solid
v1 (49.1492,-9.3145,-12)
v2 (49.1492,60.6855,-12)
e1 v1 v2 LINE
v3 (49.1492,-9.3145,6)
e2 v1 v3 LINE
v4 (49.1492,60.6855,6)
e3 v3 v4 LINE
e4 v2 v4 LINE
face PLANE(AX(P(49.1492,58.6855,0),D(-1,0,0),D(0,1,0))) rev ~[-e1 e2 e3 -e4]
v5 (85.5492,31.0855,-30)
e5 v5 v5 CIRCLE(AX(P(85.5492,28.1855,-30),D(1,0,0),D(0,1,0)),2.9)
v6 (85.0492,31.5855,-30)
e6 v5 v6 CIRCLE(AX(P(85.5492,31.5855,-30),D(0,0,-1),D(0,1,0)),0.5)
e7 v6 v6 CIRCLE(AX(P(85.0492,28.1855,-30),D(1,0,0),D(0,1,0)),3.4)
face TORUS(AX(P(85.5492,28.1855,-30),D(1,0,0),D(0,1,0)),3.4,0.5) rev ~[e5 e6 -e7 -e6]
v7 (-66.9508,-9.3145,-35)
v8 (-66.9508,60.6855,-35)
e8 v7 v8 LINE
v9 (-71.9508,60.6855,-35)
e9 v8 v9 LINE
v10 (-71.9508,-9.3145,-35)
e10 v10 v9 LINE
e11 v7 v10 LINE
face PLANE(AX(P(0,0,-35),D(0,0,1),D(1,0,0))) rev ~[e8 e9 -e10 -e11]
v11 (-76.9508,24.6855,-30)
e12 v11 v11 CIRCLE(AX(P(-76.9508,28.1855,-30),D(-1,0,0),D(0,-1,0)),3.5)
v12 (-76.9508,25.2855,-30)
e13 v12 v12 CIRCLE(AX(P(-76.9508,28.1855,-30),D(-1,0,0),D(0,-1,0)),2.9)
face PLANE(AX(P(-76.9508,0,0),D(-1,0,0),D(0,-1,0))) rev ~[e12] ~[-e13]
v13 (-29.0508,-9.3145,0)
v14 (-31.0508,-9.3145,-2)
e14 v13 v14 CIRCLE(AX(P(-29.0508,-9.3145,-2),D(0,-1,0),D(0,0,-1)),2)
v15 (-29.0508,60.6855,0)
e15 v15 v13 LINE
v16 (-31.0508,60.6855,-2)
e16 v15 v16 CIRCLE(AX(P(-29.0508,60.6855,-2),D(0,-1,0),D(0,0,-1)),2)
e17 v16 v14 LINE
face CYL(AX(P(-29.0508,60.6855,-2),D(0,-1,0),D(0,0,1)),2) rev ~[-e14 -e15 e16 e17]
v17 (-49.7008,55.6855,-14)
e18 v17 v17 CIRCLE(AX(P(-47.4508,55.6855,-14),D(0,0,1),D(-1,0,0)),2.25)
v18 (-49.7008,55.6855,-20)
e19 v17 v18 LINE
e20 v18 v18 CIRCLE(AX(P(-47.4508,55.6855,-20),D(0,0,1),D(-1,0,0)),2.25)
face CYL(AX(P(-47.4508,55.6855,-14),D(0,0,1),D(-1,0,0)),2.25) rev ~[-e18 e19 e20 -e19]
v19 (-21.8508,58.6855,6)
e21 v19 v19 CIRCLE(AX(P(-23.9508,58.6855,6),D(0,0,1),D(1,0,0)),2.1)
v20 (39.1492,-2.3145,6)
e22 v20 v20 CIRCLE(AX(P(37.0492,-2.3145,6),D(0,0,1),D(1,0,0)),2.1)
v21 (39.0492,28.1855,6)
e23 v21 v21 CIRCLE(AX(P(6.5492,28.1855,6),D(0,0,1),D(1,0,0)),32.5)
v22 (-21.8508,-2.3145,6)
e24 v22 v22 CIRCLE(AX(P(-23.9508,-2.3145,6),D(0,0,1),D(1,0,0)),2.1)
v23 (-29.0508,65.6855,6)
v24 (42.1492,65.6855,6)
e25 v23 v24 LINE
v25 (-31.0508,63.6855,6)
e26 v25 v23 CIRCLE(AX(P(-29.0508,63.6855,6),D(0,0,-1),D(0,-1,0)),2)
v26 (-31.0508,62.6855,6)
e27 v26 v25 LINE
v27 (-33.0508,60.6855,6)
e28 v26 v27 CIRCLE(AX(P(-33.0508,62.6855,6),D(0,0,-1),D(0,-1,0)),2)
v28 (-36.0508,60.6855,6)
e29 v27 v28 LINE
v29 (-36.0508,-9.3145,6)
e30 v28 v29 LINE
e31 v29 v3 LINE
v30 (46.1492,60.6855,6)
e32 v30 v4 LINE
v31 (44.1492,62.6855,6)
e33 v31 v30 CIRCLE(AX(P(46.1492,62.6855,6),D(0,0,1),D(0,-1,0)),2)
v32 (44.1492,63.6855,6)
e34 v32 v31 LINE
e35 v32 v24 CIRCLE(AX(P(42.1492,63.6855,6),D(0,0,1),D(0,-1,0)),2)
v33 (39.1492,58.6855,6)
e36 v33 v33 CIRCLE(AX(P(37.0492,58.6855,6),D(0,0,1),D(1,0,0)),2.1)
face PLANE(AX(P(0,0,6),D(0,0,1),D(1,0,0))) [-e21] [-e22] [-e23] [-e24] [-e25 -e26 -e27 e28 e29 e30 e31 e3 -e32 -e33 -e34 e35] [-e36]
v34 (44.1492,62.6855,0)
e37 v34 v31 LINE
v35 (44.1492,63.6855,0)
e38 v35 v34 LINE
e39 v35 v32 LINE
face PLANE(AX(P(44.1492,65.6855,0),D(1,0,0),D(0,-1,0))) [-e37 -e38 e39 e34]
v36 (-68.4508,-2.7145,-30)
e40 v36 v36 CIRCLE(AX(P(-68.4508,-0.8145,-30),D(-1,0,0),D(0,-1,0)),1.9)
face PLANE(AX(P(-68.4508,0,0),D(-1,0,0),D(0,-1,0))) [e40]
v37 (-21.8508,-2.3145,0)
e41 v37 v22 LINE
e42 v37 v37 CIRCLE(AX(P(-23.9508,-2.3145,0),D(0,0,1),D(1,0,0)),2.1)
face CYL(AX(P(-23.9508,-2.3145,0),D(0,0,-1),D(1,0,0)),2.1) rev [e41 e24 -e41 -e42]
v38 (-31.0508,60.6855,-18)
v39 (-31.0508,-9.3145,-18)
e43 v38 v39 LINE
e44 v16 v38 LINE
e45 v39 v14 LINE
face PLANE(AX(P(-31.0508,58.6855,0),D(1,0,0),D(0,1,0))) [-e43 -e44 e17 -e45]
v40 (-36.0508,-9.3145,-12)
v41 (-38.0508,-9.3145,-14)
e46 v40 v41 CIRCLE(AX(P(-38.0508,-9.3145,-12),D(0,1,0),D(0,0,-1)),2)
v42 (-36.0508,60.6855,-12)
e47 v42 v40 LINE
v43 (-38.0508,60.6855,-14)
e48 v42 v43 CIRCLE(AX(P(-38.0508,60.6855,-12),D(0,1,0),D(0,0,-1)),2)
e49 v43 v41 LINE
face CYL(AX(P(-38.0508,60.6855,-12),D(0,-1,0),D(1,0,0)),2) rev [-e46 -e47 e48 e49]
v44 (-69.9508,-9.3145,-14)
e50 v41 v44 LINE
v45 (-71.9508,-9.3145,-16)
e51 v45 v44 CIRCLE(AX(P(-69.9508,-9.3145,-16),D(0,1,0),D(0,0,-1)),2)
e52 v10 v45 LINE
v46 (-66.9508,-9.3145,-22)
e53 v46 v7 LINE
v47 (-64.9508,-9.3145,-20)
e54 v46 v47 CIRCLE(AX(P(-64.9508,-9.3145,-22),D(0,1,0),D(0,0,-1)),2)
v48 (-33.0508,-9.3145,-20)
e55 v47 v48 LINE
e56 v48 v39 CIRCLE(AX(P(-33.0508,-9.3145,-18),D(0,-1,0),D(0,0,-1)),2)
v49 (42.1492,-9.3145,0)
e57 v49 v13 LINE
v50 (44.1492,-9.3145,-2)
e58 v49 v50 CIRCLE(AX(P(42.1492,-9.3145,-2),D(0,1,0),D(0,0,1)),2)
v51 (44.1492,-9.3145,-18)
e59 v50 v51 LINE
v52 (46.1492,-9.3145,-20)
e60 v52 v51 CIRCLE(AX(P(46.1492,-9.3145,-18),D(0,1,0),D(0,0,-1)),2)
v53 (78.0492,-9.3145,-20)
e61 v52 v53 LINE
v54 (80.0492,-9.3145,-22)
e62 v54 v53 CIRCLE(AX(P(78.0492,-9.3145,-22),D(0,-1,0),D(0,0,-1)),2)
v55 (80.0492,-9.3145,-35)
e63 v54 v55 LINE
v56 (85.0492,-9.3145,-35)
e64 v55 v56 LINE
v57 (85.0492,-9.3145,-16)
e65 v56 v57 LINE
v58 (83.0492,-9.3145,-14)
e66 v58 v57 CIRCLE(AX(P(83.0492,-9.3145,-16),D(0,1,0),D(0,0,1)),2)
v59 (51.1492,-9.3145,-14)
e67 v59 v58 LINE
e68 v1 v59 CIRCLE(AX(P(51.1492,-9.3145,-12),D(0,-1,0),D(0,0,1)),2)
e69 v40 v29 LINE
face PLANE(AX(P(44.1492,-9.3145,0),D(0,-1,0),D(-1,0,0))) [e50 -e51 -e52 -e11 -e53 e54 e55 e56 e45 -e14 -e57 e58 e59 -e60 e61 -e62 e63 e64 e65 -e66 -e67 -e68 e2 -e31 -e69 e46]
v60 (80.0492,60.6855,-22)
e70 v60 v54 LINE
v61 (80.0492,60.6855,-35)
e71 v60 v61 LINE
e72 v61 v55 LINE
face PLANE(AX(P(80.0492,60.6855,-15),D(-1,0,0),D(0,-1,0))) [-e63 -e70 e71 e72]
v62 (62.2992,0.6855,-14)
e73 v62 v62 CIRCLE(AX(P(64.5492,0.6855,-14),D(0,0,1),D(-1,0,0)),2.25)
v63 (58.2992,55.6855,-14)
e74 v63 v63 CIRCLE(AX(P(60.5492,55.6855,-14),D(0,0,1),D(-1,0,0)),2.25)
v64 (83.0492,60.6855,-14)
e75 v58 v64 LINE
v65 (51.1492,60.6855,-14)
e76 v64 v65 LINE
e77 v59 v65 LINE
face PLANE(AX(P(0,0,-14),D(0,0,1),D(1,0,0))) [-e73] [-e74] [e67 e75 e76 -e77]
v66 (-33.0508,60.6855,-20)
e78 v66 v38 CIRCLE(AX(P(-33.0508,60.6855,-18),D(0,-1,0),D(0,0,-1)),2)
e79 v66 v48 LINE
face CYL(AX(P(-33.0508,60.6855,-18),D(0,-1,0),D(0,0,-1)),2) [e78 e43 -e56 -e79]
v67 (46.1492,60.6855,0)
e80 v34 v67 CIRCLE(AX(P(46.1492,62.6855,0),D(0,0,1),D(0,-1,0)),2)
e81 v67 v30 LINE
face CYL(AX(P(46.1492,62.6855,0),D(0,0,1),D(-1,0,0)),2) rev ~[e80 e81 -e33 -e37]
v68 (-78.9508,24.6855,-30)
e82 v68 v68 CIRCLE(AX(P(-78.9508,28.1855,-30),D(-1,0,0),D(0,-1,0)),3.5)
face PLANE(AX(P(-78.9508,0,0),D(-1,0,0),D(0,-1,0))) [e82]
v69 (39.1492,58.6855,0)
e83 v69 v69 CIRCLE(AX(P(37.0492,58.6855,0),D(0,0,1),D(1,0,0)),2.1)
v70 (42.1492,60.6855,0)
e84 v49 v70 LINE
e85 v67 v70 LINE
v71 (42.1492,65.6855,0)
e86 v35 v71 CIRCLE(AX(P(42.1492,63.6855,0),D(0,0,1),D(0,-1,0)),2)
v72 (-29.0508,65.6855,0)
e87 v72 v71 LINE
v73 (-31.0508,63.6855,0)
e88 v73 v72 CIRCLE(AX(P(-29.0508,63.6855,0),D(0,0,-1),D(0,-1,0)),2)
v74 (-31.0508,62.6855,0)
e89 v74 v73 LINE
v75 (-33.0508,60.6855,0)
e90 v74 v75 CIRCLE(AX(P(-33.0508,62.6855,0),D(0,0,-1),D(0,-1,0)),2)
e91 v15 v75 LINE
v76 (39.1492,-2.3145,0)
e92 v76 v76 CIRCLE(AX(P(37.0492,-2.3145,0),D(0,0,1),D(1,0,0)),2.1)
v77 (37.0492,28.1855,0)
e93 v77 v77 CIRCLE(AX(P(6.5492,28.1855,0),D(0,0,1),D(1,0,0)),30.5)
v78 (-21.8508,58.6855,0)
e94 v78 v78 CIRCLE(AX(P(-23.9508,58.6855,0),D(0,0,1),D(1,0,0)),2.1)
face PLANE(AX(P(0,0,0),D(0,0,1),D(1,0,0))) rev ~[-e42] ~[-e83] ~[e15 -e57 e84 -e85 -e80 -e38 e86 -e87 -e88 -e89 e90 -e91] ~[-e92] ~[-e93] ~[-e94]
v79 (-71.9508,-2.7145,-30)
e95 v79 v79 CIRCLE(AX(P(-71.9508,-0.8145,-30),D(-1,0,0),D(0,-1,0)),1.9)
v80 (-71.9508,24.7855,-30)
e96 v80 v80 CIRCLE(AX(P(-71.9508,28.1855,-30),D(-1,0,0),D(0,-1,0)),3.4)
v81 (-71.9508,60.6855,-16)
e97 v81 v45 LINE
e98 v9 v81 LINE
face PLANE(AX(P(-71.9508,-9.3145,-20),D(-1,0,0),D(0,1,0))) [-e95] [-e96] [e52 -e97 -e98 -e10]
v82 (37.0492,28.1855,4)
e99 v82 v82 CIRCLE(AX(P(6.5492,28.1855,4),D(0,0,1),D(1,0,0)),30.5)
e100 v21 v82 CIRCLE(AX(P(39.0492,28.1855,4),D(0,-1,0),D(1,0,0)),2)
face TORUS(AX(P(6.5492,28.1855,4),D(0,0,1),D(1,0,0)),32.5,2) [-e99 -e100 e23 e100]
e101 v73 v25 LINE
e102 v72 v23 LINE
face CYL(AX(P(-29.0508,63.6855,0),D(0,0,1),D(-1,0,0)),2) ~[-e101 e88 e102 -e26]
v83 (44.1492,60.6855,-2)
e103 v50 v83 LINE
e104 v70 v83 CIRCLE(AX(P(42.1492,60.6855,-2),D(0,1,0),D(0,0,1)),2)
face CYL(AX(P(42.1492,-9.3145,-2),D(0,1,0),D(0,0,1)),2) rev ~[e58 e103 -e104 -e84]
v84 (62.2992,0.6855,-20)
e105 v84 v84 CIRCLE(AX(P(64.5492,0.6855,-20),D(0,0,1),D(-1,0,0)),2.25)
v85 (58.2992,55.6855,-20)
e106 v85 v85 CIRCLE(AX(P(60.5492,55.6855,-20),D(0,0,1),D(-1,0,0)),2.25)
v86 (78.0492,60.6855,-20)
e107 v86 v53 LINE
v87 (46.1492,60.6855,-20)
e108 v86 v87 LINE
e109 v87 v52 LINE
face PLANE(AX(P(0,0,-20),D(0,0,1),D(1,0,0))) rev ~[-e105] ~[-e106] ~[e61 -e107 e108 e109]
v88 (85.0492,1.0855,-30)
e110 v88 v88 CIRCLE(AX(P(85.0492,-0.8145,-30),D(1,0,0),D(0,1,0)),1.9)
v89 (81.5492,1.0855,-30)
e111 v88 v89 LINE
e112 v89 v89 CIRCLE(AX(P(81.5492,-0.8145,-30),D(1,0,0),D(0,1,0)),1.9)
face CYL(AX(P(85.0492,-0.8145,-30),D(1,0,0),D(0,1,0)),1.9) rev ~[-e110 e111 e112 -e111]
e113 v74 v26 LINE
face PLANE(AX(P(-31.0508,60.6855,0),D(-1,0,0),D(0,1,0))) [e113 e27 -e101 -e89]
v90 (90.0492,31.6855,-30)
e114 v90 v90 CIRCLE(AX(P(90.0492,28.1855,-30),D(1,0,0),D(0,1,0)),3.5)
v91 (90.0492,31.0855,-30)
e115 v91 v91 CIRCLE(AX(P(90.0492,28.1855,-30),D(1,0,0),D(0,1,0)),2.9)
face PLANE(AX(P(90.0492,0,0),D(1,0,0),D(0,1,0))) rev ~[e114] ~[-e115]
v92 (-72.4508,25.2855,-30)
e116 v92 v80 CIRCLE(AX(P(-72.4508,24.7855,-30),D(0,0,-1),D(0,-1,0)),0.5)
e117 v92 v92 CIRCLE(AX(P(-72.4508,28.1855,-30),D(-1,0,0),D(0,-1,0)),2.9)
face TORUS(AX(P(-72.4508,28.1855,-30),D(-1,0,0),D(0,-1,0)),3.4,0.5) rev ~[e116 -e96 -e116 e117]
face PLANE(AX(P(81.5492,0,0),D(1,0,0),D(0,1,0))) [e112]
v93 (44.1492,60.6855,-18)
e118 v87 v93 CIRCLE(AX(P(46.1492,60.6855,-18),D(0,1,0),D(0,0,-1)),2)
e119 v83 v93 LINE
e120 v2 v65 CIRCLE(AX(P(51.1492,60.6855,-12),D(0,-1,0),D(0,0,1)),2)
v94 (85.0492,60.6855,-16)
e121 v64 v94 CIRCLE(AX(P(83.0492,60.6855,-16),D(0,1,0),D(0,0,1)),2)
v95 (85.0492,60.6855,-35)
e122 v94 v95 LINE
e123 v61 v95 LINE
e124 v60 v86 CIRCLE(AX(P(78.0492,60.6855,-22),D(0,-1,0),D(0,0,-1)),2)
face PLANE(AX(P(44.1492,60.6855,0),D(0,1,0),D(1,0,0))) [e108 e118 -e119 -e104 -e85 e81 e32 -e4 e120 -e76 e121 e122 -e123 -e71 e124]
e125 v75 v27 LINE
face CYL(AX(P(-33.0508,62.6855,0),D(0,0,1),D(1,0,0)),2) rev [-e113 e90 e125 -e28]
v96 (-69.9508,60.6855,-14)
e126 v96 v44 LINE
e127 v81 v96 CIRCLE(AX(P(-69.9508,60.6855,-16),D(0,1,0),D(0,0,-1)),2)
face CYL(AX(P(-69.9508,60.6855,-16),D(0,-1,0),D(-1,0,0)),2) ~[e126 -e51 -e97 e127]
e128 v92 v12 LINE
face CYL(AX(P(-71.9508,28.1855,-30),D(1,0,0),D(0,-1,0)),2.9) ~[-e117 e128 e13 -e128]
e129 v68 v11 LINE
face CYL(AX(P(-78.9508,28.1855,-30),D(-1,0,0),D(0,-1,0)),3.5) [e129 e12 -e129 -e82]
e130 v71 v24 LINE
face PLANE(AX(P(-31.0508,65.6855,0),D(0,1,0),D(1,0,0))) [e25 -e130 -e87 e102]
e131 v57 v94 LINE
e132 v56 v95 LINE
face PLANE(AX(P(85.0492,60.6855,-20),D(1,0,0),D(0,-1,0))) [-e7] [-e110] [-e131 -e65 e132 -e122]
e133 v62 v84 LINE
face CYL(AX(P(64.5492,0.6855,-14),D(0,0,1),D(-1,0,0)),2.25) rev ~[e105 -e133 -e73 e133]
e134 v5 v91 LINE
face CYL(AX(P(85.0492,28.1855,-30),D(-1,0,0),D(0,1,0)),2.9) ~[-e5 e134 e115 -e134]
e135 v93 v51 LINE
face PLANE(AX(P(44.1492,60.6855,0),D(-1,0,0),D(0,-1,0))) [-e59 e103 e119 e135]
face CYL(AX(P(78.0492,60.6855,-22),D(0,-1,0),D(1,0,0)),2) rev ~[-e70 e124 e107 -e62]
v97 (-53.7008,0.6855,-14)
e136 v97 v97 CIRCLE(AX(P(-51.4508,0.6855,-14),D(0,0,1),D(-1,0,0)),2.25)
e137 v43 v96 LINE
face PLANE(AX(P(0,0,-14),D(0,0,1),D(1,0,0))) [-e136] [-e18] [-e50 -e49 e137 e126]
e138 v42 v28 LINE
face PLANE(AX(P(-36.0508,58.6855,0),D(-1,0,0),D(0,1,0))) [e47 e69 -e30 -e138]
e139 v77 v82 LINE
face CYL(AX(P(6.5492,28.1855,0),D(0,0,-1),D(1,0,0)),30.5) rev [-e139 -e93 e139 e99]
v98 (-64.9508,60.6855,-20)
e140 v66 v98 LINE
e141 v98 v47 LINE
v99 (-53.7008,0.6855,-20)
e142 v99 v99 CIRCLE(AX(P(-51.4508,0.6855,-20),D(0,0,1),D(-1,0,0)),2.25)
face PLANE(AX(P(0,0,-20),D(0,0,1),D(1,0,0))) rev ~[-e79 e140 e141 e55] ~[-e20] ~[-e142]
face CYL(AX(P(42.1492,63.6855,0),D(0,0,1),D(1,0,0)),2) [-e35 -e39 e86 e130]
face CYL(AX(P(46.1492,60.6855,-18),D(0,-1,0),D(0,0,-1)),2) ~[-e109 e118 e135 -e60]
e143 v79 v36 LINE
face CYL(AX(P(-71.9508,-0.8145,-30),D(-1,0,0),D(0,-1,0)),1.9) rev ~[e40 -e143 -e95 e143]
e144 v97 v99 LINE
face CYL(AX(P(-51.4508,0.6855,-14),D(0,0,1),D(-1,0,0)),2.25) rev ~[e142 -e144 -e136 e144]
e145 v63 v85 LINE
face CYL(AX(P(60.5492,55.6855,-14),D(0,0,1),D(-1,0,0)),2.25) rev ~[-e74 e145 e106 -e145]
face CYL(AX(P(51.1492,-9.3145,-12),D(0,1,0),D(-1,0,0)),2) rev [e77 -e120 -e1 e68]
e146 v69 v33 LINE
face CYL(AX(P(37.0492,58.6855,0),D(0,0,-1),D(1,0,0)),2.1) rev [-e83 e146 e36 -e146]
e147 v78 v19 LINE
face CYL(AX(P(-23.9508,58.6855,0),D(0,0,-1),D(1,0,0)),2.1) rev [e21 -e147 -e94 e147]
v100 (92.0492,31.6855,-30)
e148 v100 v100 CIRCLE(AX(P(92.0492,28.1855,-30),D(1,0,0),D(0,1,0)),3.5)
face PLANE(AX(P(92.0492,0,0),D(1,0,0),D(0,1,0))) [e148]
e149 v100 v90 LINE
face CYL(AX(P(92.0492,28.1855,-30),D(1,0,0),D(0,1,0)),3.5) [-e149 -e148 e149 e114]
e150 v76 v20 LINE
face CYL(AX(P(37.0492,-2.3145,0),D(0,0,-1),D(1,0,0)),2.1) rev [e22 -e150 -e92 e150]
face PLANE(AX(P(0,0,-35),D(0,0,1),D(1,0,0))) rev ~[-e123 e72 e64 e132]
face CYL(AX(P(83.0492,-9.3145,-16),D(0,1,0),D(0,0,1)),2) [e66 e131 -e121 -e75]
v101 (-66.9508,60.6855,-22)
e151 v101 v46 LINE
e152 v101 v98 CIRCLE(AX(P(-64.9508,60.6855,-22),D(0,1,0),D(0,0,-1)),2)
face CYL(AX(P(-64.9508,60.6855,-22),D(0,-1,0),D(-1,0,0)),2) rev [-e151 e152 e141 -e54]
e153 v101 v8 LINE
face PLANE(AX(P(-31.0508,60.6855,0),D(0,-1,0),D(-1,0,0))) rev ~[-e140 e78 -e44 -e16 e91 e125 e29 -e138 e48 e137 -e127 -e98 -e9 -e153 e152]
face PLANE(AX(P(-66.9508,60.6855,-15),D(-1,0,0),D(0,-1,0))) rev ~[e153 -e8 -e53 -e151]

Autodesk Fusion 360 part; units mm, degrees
sketch "Schizzo1" plane through (0, 0, 0) normal (0, 0, 1) x (1, 0, 0)
  line L0 (-31.0508, 65.6855) -> (44.1492, 65.6855)
  line L1 (44.1492, 65.6855) -> (44.1492, -9.3145)
  line L2 (44.1492, -9.3145) -> (-31.0508, -9.3145)
  line L3 (-31.0508, -9.3145) -> (-31.0508, 65.6855)
  line L4 (-31.0508, 28.1855) -> (44.1492, 28.1855) construction
  line L5 (6.5492, 65.6855) -> (6.5492, -9.3145) construction
  circle A0 centre (6.5492, 28.1855) radius 30.5
  line L6 (37.0492, -2.3145) -> (-23.9508, -2.3145) construction
  line L7 (-23.9508, -2.3145) -> (-23.9508, 58.6855) construction
  line L8 (-23.9508, 58.6855) -> (37.0492, 58.6855) construction
  line L9 (37.0492, 58.6855) -> (37.0492, -2.3145) construction
  line L10 (37.0492, -2.3145) -> (-23.9508, 58.6855) construction
  line L11 (-23.9508, -2.3145) -> (37.0492, 58.6855) construction
  circle A1 centre (-23.9508, 58.6855) radius 2.1
  circle A2 centre (37.0492, 58.6855) radius 2.1
  circle A3 centre (37.0492, -2.3145) radius 2.1
  circle A4 centre (-23.9508, -2.3145) radius 2.1
  line L12 (-71.9508, 58.6855) -> (-66.9508, 58.6855)
  line L13 (-66.9508, 58.6855) -> (-66.9508, -2.3145)
  line L14 (-66.9508, -2.3145) -> (-71.9508, -2.3145)
  line L15 (-71.9508, -2.3145) -> (-71.9508, 58.6855)
  line L16 (85.0492, 58.6855) -> (80.0492, 58.6855)
  line L17 (85.0492, -2.3145) -> (85.0492, 58.6855)
  line L18 (80.0492, 58.6855) -> (80.0492, -2.3145)
  line L19 (80.0492, -2.3145) -> (85.0492, -2.3145)
  circle A5 centre (-23.9508, 58.6855) radius 3.6
  circle A6 centre (37.0492, 58.6855) radius 3.6
  circle A7 centre (-23.9508, -2.3145) radius 3.6
  circle A8 centre (37.0492, -2.3145) radius 3.6
  line L20 (-31.0508, -9.3145) -> (-71.9508, -9.3145)
  line L21 (-71.9508, -9.3145) -> (-71.9508, -2.3145)
  line L22 (44.1492, -9.3145) -> (85.0492, -9.3145)
  line L23 (85.0492, -9.3145) -> (85.0492, -2.3145)
  line L24 (-66.9508, -2.3145) -> (-66.9508, -9.3145)
  line L25 (80.0492, -2.3145) -> (80.0492, -9.3145)
  line L26 (-66.9508, 58.6855) -> (-31.0508, 58.6855)
  line L27 (80.0492, 58.6855) -> (44.1492, 58.6855)
  line L28 (-66.9508, 58.6855) -> (-31.0508, 58.6855)
  line L29 (-31.0508, 58.6855) -> (-31.0508, 60.6855)
  line L30 (-31.0508, 60.6855) -> (-66.9508, 60.6855)
  line L31 (-66.9508, 60.6855) -> (-66.9508, 58.6855)
  line L32 (80.0492, 60.6855) -> (80.0492, 58.6855)
  line L33 (44.1492, 60.6855) -> (80.0492, 60.6855)
  line L34 (80.0492, 58.6855) -> (44.1492, 58.6855)
  line L35 (44.1492, -9.3145) -> (44.1492, 65.6855)
  line L36 (-36.0508, -9.3145) -> (-36.0508, 60.6855)
  line L37 (49.1492, -9.3145) -> (49.1492, 60.6855)
  line L38 (-71.9508, 58.6855) -> (-66.9508, 58.6855)
  line L39 (-66.9508, 58.6855) -> (-66.9508, 60.6855)
  line L40 (-66.9508, 60.6855) -> (-71.9508, 60.6855)
  line L41 (-71.9508, 60.6855) -> (-71.9508, 58.6855)
  line L42 (85.0492, 60.6855) -> (85.0492, 58.6855)
  line L43 (80.0492, 60.6855) -> (85.0492, 60.6855)
  point P0 (6.5492, 28.1855)
  point P1 (-23.9508, -2.3145)
  dimension "d1" = 75.2
  dimension "d2" = 75
  dimension "d3" = 61
  dimension "d4" = 61
  dimension "d5" = 61
  dimension "d6" = 4.2
  dimension "d13" = 5
  dimension "d22" = 7.2
  dimension "d70" = 157
  dimension "d82" = 147
  dimension "d102" = 2
  dimension "d109" = 5
extrude "Estrusione1" add sketch "Schizzo1" along normal blind 6 contours L0 L1 L2 L3 L29 L35 | L3 L26 L28 L29 L30 L36 | L1 L27 L33 L34 L35 L37 | L3 L20 L26 L28 L36 | L1 L22 L27 L34 L35 L37 | A5 | A6 | A7 | A8
fillet "Raccordo22" radius 2 1 edges at (-21.8868, 39.2148, 6)
extrude "Estrusione14" add sketch "Schizzo1" against normal blind 20 contours L3 L26 L28 L29 L30 L36 | L1 L27 L33 L34 L35 L37 | L3 L20 L26 L28 L36 | L1 L22 L27 L34 L35 L37
fillet "Raccordo20" radius 2 2 edges at (-31.0508, 25.6855, 0) (44.1492, 25.6855, 0)
fillet "Raccordo17" radius 2 2 edges at (-31.0508, 65.6855, 3) (44.1492, 65.6855, 3)
fillet "Raccordo21" radius 2 2 edges at (44.1492, 60.6855, 3) (-31.0508, 60.6855, 3)
extrude "Estrusione15" add sketch "Schizzo1" along normal blind 6 from surface at -20 contours L3 L20 L26 L28 L36 | L26 L28 L30 L31 L36 L39 | L1 L22 L27 L34 L35 L37 | L27 L32 L33 L34 L37 | L13 L20 L24 L26 L28 L36 | L12 L31 L38 L39 L40 L41 | L18 L22 L25 L27 L34 L37 | L16 L32 L42 L43 | L12 L13 L14 L15 L38 | L16 L17 L18 L19 | L14 L20 L21 L24 | L19 L22 L23 L25
fillet "Raccordo14" radius 2 2 edges at (49.1492, 25.6855, -14) (-36.0508, 25.6855, -14)
fillet "Raccordo18" radius 2 2 edges at (44.1492, 25.6855, -20) (-31.0508, 25.6855, -20)
extrude "Estrusione2" add sketch "Schizzo1" against normal blind 20 from surface at -15 contours L12 L31 L38 L39 L40 L41 | L16 L32 L42 L43 | L12 L13 L14 L15 L38 | L16 L17 L18 L19 | L14 L20 L21 L24 | L19 L22 L23 L25
fillet "Raccordo23" radius 2 2 edges at (-71.9508, 25.6855, -14) (85.0492, 25.6855, -14)
fillet "Raccordo24" radius 2 2 edges at (-66.9508, 25.6855, -20) (80.0492, 25.6855, -20)
sketch "Schizzo2" plane through (-71.9508, 0, 0) normal (-1, 0, 0) x (0, -1, 0)
  line L0 (-60.6855, -35) -> (9.3145, -35)
  circle A0 centre (-28.1855, -30) radius 2.9
  circle A1 centre (-28.1855, -30) radius 3.5
  line L1 (9.3145, -35) -> (9.3145, -16)
  circle A2 centre (0.8145, -30) radius 1.9
  line L2 (-58.6855, -15) -> (9.3145, -15) construction
  line L3 (9.3145, -15) -> (9.3145, -35) construction
  line L4 (9.3145, -35) -> (-58.6855, -35) construction
  line L5 (-58.6855, -35) -> (-58.6855, -15) construction
  line L6 (-58.6855, -30) -> (9.3145, -30) construction
  line L7 (9.3145, -16) -> (-60.6855, -16)
  line L8 (-60.6855, -16) -> (-60.6855, -35)
  dimension "d27" = 5.8
  dimension "d28" = 7
  dimension "d56" = 3.8
  dimension "d94" = 5
  dimension "d95" = 30.5
  dimension "d96" = 29
extrude "Estrusione4" add sketch "Schizzo2" along normal blind 7 contours A0
extrude "Estrusione5" add sketch "Schizzo2" against normal blind 2 from surface at 7 contours A1
fillet "Raccordo4" radius 0.5 1 edges at (-71.9508, 30.8893, -28.9513)
extrude "Estrusione10" cut sketch "Schizzo2" against normal blind 3.5 contours A2
sketch "Schizzo3" plane through (85.0492, 0, 0) normal (1, 0, 0) x (0, 1, 0)
  line L0 (-9.3145, -35) -> (60.6855, -35)
  circle A0 centre (28.1855, -30) radius 2.9
  circle A1 centre (28.1855, -30) radius 3.5
  circle A2 centre (-0.8145, -30) radius 1.9
  line L1 (-9.3145, -16) -> (-9.3145, -35)
  line L2 (58.6855, -35) -> (-9.3145, -35) construction
  line L3 (-9.3145, -35) -> (-9.3145, -15) construction
  line L4 (-9.3145, -15) -> (58.6855, -15) construction
  line L5 (58.6855, -15) -> (58.6855, -35) construction
  line L6 (-9.3145, -30) -> (58.6855, -30) construction
  line L7 (60.6855, -16) -> (-9.3145, -16)
  line L8 (60.6855, -35) -> (60.6855, -16)
  dimension "d36" = 5.8
  dimension "d37" = 7
  dimension "d49" = 3.8
  dimension "d97" = 5
  dimension "d98" = 29
  dimension "d99" = 30.5
extrude "Estrusione6" add sketch "Schizzo3" along normal blind 7 contours A0
extrude "Estrusione7" add sketch "Schizzo3" against normal blind 2 from surface at 7 contours A1
fillet "Raccordo5" radius 0.5 1 edges at (85.0492, 25.4818, -28.9513)
extrude "Estrusione11" cut sketch "Schizzo3" against normal blind 3.5 contours A2
sketch "Schizzo4" plane through (0, 0, 6) normal (0, 0, 1) x (-1, 0, 0)
  line L0 (36.0508, 9.3145) -> (-49.1492, 9.3145)
  line L1 (-42.1492, -65.6855) -> (29.0508, -65.6855)
  circle A0 centre (23.9508, 2.3145) radius 2.1
  circle A1 centre (-37.0492, -58.6855) radius 2.1
  circle A2 centre (23.9508, -58.6855) radius 2.1
  circle A3 centre (-37.0492, 2.3145) radius 2.1
  line L2 (65.9508, -65.6855) -> (-79.0492, -65.6855) construction
  line L3 (-79.0492, -65.6855) -> (-79.0492, 9.3145) construction
  line L4 (-79.0492, 9.3145) -> (65.9508, 9.3145) construction
  line L5 (65.9508, 9.3145) -> (65.9508, -65.6855) construction
  line L6 (-6.5492, -65.6855) -> (-6.5492, 9.3145) construction
  line L7 (-6.5492, -28.1855) -> (65.9508, -28.1855) construction
  line L8 (-6.5492, -28.1855) -> (-79.0492, -28.1855) construction
  line L9 (65.9508, -55.6855) -> (-79.0492, -55.6855) construction
  line L10 (65.9508, -0.6855) -> (-79.0492, -0.6855) construction
  circle A4 centre (47.4508, -55.6855) radius 2.25
  circle A5 centre (47.4508, -55.6855) radius 3.75
  circle A6 centre (51.4508, -0.6855) radius 2.25
  circle A7 centre (51.4508, -0.6855) radius 3.75
  circle A8 centre (-60.5492, -55.6855) radius 2.25
  circle A9 centre (-60.5492, -55.6855) radius 3.75
  circle A10 centre (-64.5492, -0.6855) radius 3.75
  circle A11 centre (-64.5492, -0.6855) radius 2.25
  line L11 (-44.1492, -62.6855) -> (-44.1492, -63.6855)
  line L12 (31.0508, -63.6855) -> (31.0508, -62.6855)
  line L13 (-49.1492, 9.3145) -> (-49.1492, -60.6855)
  line L14 (36.0508, -60.6855) -> (36.0508, 9.3145)
  arc A12 (-44.1492, -63.6855) -> (-42.1492, -65.6855) centre (-42.1492, -63.6855) ccw
  arc A13 (29.0508, -65.6855) -> (31.0508, -63.6855) centre (29.0508, -63.6855) ccw
  circle A14 centre (-6.5492, -28.1855) radius 32.5
  arc A15 (33.0508, -60.6855) -> (31.0508, -62.6855) centre (33.0508, -62.6855) ccw
  line L15 (33.0508, -60.6855) -> (36.0508, -60.6855)
  line L16 (-49.1492, -60.6855) -> (-46.1492, -60.6855)
  arc A16 (-44.1492, -62.6855) -> (-46.1492, -60.6855) centre (-46.1492, -62.6855) ccw
  point P0 (47.4508, -55.6855)
  point P1 (51.4508, -0.6855)
  point P2 (-60.5492, -55.6855)
  point P3 (-64.5492, -0.6855)
  dimension "d79" = 55
  dimension "d80" = 108
  dimension "d81" = 116
  dimension "d83" = 4.5
  dimension "d84" = 7.5
  dimension "d85" = 4.5
  dimension "d86" = 7.5
extrude "Estrusione12" cut sketch "Schizzo4" against normal blind 6 from surface at -20 contours A4 | A6 | A8 | A11
equation "d1 = 75 mm + 0.2 mm"
equation "d85 = d83"
equation "d86 = d84"
